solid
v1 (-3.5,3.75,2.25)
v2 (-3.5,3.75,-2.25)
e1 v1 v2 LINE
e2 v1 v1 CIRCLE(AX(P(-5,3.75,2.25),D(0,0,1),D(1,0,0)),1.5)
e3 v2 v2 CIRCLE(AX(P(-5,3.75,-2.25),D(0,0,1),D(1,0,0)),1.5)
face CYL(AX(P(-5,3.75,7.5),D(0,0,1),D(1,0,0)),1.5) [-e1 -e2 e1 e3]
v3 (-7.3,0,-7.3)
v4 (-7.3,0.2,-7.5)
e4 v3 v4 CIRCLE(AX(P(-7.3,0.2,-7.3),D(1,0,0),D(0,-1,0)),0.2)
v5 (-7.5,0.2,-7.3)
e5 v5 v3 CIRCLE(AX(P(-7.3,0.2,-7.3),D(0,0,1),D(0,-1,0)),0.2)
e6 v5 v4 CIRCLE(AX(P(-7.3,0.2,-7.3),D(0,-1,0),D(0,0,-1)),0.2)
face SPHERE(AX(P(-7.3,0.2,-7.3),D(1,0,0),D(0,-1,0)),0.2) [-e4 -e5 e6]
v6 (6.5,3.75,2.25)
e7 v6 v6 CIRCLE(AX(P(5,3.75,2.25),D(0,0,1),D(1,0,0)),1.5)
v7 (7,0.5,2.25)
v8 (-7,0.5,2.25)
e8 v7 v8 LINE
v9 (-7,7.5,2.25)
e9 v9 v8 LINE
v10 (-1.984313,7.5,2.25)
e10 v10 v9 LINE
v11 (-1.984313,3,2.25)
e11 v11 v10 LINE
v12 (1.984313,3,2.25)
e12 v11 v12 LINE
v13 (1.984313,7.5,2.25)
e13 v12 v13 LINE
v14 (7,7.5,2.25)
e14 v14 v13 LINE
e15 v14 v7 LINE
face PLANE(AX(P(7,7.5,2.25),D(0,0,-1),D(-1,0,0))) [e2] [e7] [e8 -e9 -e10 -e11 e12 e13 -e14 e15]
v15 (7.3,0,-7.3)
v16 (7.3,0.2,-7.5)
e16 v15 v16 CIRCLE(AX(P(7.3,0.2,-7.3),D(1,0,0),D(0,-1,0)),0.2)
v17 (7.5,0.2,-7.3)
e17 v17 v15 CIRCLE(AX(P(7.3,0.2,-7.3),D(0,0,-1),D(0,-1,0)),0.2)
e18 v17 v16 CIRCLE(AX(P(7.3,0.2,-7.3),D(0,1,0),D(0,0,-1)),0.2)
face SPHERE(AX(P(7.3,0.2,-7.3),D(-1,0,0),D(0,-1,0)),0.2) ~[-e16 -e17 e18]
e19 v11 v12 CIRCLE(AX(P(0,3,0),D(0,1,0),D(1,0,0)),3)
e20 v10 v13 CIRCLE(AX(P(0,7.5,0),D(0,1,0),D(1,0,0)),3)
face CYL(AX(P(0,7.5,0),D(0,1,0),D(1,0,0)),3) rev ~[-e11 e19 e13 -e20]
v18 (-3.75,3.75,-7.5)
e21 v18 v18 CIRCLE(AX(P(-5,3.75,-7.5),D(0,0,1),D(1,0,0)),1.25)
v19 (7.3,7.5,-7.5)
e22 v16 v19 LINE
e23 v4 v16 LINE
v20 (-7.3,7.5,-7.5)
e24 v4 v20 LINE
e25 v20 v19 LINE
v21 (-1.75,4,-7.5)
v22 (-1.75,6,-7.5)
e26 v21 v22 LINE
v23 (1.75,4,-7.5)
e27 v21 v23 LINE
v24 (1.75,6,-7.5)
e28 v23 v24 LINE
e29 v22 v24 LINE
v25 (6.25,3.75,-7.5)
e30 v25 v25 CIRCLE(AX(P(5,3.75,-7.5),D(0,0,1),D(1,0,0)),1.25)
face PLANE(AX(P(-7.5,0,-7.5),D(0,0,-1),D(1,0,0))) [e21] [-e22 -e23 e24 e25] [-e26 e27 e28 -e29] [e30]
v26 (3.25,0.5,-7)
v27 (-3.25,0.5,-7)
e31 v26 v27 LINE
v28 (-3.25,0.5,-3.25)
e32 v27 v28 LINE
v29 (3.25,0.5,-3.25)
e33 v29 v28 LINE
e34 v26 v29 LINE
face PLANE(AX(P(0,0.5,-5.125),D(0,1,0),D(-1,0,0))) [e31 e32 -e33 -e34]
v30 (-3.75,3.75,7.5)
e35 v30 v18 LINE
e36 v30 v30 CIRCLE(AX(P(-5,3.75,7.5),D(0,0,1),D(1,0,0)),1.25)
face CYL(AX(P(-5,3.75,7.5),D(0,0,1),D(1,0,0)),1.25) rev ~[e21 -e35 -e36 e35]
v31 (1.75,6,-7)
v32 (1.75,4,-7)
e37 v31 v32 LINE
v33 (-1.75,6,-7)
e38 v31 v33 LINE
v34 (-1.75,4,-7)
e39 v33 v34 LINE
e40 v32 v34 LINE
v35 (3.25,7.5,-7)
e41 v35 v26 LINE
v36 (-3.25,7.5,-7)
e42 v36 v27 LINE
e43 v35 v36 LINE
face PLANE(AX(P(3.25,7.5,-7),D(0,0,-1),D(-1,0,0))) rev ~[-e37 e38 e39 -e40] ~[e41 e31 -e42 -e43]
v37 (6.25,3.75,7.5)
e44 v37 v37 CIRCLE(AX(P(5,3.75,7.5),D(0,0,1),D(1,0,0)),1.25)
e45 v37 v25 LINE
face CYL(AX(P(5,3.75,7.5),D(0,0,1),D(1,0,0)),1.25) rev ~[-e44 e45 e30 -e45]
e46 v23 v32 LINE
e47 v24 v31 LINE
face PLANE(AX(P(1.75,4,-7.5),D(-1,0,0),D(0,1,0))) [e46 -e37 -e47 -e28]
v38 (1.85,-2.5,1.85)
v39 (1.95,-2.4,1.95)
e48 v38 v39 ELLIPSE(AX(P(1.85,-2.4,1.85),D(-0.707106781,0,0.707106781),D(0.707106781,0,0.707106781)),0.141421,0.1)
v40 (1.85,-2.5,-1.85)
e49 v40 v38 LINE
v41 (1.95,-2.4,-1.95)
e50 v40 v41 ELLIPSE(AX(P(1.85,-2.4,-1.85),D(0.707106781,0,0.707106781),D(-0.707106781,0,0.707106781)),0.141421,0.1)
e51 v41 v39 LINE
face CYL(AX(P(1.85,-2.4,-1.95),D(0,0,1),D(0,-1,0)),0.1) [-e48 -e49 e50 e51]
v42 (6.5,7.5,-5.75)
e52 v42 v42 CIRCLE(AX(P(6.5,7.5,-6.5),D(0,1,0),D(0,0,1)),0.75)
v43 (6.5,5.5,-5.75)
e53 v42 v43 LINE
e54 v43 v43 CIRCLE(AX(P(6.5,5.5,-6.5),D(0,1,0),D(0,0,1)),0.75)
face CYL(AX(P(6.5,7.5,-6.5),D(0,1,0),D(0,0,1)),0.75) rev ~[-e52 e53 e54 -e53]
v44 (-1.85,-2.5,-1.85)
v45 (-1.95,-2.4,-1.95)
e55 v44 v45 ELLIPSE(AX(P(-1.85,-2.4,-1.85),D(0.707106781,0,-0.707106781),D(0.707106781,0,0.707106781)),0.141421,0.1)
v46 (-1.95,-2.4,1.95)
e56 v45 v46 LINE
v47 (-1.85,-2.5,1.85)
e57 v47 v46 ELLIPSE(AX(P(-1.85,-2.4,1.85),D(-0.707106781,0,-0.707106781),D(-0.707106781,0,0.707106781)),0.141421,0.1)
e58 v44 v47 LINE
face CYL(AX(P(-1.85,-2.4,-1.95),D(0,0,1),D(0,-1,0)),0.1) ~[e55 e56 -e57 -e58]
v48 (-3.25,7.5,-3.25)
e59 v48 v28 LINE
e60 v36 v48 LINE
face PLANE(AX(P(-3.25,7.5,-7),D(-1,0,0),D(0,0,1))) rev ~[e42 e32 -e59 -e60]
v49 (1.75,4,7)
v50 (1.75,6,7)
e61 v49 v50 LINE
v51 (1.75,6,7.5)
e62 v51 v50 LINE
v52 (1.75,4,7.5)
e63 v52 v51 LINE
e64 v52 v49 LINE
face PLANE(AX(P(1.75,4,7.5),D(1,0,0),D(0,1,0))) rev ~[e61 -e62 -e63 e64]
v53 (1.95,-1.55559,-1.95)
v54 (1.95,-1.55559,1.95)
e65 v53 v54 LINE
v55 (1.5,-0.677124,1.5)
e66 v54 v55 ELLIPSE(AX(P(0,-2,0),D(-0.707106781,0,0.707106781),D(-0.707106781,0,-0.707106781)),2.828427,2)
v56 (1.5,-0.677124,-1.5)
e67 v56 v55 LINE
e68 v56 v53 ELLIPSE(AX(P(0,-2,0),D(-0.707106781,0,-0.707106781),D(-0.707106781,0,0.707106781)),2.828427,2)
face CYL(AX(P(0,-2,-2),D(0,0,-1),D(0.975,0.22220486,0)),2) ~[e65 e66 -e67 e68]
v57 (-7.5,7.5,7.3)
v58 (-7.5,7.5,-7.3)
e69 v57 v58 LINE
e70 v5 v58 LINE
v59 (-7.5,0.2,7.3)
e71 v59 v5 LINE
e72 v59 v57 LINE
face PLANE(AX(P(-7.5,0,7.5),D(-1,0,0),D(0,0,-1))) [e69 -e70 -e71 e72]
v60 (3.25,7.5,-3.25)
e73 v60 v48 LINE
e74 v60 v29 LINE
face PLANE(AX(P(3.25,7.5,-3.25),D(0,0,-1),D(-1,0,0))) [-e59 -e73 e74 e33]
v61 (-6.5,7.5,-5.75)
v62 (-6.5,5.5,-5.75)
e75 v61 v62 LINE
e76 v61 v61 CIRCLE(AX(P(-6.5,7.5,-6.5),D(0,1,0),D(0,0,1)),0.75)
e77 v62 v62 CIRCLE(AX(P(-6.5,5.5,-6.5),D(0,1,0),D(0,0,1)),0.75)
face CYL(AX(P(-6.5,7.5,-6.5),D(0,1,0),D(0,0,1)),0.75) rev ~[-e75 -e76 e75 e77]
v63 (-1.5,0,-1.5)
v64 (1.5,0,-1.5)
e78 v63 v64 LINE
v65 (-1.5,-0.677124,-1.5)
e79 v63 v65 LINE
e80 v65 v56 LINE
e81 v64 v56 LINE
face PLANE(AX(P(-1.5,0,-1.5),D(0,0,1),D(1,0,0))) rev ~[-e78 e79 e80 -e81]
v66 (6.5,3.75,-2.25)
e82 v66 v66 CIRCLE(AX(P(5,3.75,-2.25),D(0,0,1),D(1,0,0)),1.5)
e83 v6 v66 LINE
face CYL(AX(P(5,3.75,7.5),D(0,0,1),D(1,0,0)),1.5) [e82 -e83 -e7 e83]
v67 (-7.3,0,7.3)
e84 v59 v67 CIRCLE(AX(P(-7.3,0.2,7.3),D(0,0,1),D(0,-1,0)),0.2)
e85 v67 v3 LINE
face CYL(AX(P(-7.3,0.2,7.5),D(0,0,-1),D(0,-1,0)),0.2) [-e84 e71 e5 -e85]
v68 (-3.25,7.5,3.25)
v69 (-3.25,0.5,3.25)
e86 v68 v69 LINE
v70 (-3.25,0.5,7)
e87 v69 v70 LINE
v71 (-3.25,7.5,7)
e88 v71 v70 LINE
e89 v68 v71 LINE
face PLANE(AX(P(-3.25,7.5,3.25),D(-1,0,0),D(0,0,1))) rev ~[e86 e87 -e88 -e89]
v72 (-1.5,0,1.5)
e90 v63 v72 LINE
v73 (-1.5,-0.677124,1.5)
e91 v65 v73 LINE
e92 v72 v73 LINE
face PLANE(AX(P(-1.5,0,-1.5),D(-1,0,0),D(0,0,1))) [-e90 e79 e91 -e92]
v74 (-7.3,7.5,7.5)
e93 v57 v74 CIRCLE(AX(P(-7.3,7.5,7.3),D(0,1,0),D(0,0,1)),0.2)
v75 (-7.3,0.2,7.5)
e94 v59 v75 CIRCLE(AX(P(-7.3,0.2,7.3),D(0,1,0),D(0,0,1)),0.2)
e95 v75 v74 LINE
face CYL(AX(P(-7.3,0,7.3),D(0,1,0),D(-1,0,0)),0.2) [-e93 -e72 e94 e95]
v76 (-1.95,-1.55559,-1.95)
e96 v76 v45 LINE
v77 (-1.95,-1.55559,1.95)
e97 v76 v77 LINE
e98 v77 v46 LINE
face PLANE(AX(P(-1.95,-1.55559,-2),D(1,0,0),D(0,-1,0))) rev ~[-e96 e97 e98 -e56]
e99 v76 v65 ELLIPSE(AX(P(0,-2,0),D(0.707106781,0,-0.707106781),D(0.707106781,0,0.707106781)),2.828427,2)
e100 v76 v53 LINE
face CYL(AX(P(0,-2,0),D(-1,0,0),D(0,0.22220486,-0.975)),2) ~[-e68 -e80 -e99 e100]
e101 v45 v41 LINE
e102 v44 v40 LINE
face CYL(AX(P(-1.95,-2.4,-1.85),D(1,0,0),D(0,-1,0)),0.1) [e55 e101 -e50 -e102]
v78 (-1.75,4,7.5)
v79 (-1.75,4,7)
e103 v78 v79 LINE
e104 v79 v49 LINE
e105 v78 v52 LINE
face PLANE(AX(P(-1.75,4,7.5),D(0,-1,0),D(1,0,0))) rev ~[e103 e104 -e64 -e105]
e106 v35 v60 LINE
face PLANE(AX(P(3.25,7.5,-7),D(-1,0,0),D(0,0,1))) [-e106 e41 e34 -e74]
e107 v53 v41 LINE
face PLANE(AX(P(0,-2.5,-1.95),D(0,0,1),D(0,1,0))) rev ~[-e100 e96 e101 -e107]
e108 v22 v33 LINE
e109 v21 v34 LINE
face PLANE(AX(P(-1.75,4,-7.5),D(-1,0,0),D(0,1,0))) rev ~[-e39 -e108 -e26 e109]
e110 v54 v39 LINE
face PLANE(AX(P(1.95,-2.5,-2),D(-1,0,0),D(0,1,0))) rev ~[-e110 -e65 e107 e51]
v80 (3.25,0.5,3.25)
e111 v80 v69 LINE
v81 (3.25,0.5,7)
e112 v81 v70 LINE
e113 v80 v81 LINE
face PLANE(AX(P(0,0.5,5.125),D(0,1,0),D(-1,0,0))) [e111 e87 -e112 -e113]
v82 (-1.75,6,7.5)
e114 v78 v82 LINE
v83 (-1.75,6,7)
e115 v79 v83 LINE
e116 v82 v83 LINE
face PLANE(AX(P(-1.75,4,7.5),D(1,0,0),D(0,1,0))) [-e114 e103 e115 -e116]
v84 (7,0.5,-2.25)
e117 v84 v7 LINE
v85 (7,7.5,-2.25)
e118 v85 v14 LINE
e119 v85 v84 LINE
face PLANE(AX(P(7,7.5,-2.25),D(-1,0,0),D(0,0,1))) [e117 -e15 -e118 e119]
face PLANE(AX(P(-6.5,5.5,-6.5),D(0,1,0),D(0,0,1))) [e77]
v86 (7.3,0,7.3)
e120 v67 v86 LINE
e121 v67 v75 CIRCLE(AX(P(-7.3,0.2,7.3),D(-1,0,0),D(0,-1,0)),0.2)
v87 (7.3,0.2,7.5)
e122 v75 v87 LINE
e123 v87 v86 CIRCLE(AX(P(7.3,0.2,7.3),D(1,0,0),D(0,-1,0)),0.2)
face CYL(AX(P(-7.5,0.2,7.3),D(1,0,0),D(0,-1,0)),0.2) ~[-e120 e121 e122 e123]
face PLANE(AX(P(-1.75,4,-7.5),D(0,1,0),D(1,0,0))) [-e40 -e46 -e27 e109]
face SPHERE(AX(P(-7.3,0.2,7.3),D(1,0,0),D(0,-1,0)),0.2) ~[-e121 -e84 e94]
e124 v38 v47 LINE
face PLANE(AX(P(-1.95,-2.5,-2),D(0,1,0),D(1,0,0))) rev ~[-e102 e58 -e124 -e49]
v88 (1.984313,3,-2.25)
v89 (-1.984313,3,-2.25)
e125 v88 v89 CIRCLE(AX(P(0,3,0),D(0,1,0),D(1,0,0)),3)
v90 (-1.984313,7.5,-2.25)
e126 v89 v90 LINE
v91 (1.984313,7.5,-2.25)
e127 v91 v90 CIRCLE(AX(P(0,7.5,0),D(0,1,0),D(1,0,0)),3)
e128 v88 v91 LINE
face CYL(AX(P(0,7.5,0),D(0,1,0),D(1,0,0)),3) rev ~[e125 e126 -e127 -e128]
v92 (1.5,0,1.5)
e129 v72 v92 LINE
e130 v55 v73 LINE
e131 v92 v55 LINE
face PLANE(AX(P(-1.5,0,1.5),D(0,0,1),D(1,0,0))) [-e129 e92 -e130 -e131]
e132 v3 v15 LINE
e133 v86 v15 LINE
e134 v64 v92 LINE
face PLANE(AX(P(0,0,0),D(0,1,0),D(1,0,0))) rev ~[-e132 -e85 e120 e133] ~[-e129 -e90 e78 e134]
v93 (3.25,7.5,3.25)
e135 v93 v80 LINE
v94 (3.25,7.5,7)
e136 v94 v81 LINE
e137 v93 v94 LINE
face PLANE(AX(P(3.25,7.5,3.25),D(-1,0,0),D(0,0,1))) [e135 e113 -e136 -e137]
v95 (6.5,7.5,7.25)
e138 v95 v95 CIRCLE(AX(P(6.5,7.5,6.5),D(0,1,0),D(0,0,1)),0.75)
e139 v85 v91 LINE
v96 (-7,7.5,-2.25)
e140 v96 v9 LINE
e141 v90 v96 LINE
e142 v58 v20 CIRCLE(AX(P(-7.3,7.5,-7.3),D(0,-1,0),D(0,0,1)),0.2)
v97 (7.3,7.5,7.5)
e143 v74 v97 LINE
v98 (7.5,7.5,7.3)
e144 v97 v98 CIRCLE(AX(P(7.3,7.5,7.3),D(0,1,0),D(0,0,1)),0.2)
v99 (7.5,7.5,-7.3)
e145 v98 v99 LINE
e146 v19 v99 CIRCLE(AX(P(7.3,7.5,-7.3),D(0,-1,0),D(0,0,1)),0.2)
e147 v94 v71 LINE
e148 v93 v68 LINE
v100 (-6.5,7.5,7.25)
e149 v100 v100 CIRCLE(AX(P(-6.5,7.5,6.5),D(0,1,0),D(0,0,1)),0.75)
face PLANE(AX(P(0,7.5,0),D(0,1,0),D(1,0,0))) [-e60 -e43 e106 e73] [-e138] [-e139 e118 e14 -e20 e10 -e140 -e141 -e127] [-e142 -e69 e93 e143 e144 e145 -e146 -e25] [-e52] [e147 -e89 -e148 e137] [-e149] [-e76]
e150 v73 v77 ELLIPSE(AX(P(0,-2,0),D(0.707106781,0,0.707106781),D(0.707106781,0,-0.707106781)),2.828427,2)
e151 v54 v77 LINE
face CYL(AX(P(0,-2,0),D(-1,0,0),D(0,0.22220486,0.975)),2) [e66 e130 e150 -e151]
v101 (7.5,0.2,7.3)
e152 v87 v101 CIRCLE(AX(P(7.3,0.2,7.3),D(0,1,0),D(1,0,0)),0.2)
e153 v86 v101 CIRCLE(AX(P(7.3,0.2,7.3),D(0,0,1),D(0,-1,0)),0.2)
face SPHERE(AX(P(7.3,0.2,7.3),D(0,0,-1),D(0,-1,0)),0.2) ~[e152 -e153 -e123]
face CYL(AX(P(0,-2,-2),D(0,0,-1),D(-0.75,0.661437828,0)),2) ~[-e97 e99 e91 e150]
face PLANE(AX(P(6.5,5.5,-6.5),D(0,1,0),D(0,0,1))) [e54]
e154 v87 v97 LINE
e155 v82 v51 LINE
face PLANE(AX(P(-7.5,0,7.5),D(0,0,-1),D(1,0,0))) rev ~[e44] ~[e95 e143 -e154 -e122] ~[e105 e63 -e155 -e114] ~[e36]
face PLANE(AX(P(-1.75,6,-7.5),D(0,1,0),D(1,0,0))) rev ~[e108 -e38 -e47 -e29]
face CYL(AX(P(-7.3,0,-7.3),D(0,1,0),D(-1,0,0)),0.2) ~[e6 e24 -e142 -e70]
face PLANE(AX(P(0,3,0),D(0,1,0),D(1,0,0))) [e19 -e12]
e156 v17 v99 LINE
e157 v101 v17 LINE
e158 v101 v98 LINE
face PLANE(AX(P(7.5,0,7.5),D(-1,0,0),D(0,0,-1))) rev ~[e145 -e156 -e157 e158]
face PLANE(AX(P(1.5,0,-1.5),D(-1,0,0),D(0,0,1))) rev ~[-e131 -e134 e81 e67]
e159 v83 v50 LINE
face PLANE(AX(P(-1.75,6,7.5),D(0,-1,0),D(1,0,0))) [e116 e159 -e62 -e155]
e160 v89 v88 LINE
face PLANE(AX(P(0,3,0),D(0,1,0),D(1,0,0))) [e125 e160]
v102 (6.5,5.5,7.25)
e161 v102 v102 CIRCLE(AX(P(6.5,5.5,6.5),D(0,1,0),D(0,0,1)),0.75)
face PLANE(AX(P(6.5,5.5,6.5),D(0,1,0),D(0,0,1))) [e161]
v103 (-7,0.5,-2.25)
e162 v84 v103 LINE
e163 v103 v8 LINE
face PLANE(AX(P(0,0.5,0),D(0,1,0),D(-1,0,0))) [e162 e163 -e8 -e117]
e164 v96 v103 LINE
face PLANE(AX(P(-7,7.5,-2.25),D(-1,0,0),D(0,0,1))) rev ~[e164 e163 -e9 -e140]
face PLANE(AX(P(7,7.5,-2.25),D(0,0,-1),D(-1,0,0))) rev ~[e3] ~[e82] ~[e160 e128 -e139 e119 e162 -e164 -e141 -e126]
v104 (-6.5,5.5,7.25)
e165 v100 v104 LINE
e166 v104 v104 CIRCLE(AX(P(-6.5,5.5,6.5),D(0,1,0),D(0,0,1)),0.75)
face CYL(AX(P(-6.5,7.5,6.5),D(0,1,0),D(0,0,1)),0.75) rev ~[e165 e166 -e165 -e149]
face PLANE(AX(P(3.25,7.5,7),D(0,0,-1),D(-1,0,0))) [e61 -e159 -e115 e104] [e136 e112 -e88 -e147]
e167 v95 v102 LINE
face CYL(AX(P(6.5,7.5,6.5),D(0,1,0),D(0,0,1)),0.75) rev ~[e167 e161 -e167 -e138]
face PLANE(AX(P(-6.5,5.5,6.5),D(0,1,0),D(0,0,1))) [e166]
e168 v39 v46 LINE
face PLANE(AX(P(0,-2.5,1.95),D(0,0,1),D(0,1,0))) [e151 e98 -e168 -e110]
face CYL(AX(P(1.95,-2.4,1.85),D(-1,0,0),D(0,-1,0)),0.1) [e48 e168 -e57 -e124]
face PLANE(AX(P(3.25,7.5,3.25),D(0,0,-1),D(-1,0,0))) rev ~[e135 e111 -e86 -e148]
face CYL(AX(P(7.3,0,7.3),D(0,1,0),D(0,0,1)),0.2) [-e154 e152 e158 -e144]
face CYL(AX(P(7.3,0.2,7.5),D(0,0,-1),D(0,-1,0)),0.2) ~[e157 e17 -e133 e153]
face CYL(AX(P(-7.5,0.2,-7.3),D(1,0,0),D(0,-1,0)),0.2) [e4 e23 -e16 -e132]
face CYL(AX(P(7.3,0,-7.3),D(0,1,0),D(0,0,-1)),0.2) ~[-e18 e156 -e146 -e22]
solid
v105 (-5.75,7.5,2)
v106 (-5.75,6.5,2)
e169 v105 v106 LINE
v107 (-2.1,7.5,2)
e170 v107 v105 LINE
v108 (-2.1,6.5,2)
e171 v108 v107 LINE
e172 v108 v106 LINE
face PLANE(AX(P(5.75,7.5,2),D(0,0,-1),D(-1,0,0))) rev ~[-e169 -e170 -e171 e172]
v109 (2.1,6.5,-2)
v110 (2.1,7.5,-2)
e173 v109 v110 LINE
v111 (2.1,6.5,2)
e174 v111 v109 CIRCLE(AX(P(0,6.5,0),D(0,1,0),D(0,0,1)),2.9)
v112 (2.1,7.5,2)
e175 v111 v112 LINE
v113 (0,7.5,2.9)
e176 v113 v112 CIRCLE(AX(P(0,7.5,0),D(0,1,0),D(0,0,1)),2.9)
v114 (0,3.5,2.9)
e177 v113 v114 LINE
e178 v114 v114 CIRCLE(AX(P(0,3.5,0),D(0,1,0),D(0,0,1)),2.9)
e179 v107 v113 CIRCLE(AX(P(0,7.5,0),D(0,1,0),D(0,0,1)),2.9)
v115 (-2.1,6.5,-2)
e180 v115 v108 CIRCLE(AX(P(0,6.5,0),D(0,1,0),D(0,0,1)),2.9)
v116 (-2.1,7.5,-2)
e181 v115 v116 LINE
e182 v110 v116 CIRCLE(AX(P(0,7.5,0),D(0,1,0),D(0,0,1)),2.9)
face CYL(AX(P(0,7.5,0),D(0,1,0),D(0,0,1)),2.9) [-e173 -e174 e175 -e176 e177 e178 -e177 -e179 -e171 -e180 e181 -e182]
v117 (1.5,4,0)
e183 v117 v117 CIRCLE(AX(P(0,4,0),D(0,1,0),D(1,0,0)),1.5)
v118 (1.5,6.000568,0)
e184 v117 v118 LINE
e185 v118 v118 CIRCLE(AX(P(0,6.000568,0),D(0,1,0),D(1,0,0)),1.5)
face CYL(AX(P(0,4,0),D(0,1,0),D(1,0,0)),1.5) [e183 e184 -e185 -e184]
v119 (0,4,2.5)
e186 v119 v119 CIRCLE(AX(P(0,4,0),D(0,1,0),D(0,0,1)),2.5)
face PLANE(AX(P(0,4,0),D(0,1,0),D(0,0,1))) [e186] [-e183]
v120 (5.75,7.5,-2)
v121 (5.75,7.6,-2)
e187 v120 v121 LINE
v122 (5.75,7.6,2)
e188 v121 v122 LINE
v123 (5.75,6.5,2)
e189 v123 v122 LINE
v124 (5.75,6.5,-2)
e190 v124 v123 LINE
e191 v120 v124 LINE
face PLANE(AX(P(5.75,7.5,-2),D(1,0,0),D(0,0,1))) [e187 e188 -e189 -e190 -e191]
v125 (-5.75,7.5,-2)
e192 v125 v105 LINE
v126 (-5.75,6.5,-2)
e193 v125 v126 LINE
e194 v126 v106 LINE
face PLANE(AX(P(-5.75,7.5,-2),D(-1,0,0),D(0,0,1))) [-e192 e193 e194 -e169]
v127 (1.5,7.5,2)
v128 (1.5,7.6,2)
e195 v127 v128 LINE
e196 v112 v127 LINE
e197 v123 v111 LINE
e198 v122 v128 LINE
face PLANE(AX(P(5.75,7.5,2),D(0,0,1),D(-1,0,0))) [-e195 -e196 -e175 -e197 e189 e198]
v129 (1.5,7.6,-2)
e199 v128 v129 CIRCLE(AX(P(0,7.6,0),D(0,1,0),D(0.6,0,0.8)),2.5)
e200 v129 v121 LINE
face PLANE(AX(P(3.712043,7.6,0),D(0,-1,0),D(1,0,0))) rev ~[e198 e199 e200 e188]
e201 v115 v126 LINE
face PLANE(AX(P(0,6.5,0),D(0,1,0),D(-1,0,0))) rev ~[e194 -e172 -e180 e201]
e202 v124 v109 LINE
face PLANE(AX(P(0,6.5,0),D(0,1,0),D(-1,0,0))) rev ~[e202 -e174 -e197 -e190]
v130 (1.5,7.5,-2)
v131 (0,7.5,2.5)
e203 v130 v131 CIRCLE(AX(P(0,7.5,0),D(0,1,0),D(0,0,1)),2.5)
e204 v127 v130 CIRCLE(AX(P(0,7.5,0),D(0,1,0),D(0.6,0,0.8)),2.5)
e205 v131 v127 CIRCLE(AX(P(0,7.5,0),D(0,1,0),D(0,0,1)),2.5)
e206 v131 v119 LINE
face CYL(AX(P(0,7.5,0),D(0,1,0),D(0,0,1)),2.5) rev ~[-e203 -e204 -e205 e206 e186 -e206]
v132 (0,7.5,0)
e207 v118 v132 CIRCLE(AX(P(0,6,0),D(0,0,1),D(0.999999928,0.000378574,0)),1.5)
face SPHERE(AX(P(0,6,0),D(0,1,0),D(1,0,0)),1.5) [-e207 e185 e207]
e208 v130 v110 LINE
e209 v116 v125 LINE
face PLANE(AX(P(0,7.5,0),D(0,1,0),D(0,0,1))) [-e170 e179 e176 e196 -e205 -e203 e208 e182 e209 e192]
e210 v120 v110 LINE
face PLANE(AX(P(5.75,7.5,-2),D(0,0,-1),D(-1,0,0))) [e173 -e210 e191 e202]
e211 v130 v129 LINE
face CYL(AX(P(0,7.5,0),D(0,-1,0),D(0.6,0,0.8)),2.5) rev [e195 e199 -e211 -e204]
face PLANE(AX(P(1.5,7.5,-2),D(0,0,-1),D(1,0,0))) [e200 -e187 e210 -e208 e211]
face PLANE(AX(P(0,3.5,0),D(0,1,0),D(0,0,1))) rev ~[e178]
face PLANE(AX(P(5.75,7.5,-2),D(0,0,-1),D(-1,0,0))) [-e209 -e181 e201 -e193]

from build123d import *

# Parameters (mm, degrees)
SKETCH_2_W                      = 15
SKETCH_2_H                      = 15
EXTRUDE_1_DEPTH                 = 7.5
SKETCH_3_W                      = 14
SKETCH_3_H                      = 4.5
CUT_EXTRUDE_1_DEPTH             = 7
SKETCH_4_R                      = 3
CUT_EXTRUDE_2_DEPTH             = 4.5
SKETCH_5_W                      = 6.5
SKETCH_5_H                      = 3.75
CUT_EXTRUDE_3_DEPTH             = 7
EXTRUDE_2_REACH                 = 20.371
SKETCH_6_R                      = 1.5
SKETCH_7_R                      = 1.25
CUT_EXTRUDE_4_DEPTH             = 19.371173071
SKETCH_8_W                      = 3
SKETCH_8_H                      = 3
EXTRUDE_3_DEPTH                 = 1
CUT_EXTRUDE_5_REACH             = 20.371
SKETCH_9_W                      = 3.5
SKETCH_9_H                      = 2
CUT_EXTRUDE_6_REACH             = 35.371
CUT_EXTRUDE_START               = -15
SKETCH_9_2_W                    = 3.5
SKETCH_9_2_H                    = 2
EXTRUDE_4_DEPTH                 = 2
EXTRUDE_4_DEPTH_BACK            = 2
CUT_EXTRUDE_7_REACH             = 14.99
CUT_EXTRUDE_7_DIRECTION_2_REACH = 14.99
FILLET_1_R                      = 0.1
FILLET_2_R                      = 0.2
SKETCH_12_R                     = 0.75
CUT_EXTRUDE_8_DEPTH             = 2
SKETCH_13_W                     = 11.5
SKETCH_13_H                     = 4
EXTRUDE_5_DEPTH                 = 1
SKETCH_14_R                     = 2.9
EXTRUDE_6_DEPTH                 = 4
SKETCH_15_R                     = 2.5
CUT_EXTRUDE_9_DEPTH             = 3.5
EXTRUDE_7_DEPTH                 = 0.1


with BuildPart() as part:
    # 草图2 → 凸台-拉伸1 (new body)
    with BuildSketch(Plane(origin=(0, 0, 0), x_dir=(1, 0, 0), z_dir=(0, 1, 0))):
        Rectangle(SKETCH_2_W, SKETCH_2_H)
    extrude(amount=EXTRUDE_1_DEPTH)

    # 草图3 → 切除-拉伸1 (cut)
    with BuildSketch(Plane(origin=(0, 7.5, 0), x_dir=(-1, 0, 0), z_dir=(0, 1, 0))):
        Rectangle(SKETCH_3_W, SKETCH_3_H)
    extrude(amount=-CUT_EXTRUDE_1_DEPTH, mode=Mode.SUBTRACT)

    # 草图4 → 切除-拉伸2 (cut)
    with BuildSketch(Plane(origin=(0, 7.5, 0), x_dir=(1, 0, 0), z_dir=(0, 1, 0))):
        Circle(SKETCH_4_R)
    extrude(amount=-CUT_EXTRUDE_2_DEPTH, mode=Mode.SUBTRACT)

    # 草图5 → 切除-拉伸3 (cut)
    with BuildSketch(Plane(origin=(0, 7.5, 0), x_dir=(-1, 0, 0), z_dir=(0, 1, 0))):
        with Locations((0, -5.125)):
            Rectangle(SKETCH_5_W, SKETCH_5_H)
        with Locations((0, 5.125)):
            Rectangle(SKETCH_5_W, SKETCH_5_H)
    extrude(amount=-CUT_EXTRUDE_3_DEPTH, mode=Mode.SUBTRACT)

    # 草图6 → 凸台-拉伸2 (add, up to next)
    with BuildSketch(Plane.XY.offset(7.5), mode=Mode.PRIVATE) as extrude_2_sk1:
        with Locations((-5, 3.75)):
            Circle(SKETCH_6_R)
    extrude_2_tool1 = extrude(extrude_2_sk1.sketch, amount=-EXTRUDE_2_REACH, mode=Mode.PRIVATE) - part.part
    # 草图6 → 凸台-拉伸2 (add, up to next)
    with BuildSketch(Plane.XY.offset(7.5), mode=Mode.PRIVATE) as extrude_2_sk2:
        with Locations((5, 3.75)):
            Circle(SKETCH_6_R)
    extrude_2_tool2 = extrude(extrude_2_sk2.sketch, amount=-EXTRUDE_2_REACH, mode=Mode.PRIVATE) - part.part
    add(extrude_2_tool1.solids().sort_by_distance((-5, 3.75, 7.5))[0])
    add(extrude_2_tool2.solids().sort_by_distance((5, 3.75, 7.5))[0])

    # 草图7 → 切除-拉伸4 (cut, through all)
    with BuildSketch(Plane.XY.offset(7.5)):
        with Locations((-5, 3.75)):
            Circle(SKETCH_7_R)
        with Locations((5, 3.75)):
            Circle(SKETCH_7_R)
    extrude(amount=-CUT_EXTRUDE_4_DEPTH, mode=Mode.SUBTRACT)

    # 草图8 → 凸台-拉伸3 (add)
    with BuildSketch(Plane.XZ):
        Rectangle(SKETCH_8_W, SKETCH_8_H)
    extrude(amount=EXTRUDE_3_DEPTH)

    # 草图9 → 切除-拉伸5 (cut, up to next)
    with BuildSketch(Plane.XY.offset(7.5), mode=Mode.PRIVATE) as cut_extrude_5_sk1:
        with Locations((0, 5)):
            Rectangle(SKETCH_9_W, SKETCH_9_H)
    cut_extrude_5_tool1 = extrude(cut_extrude_5_sk1.sketch, amount=-CUT_EXTRUDE_5_REACH, mode=Mode.PRIVATE) & part.part
    add(cut_extrude_5_tool1.solids().sort_by_distance((0, 5, 7.5))[0], mode=Mode.SUBTRACT)

    # 草图9<2> → 切除-拉伸6 (cut, up to next)
    with BuildSketch(Plane.XY.offset(7.5).offset(CUT_EXTRUDE_START), mode=Mode.PRIVATE) as cut_extrude_6_sk1:
        with Locations((0, 5)):
            Rectangle(SKETCH_9_2_W, SKETCH_9_2_H)
    cut_extrude_6_tool1 = extrude(cut_extrude_6_sk1.sketch, amount=CUT_EXTRUDE_6_REACH, mode=Mode.PRIVATE) & part.part
    add(cut_extrude_6_tool1.solids().sort_by_distance((0, 5, -7.5))[0], mode=Mode.SUBTRACT)

    # 草图10 → 凸台-拉伸4 (add, two sides: drawn at the far end of the back side and taken through both)
    with BuildSketch(Plane.XY.offset(-EXTRUDE_4_DEPTH_BACK)):
        with BuildLine():
            Line((-1.95, -2.5), (1.95, -2.5))
            Line((1.95, -2.5), (1.95, -1.555590279))
            ThreePointArc((1.95, -1.555590279), (1.780042303, -1.088161527), (1.5, -0.677124344))
            Line((1.5, -0.677124344), (-1.5, -0.677124344))
            ThreePointArc((-1.5, -0.677124344), (-1.780042303, -1.088161527), (-1.95, -1.555590279))
            Line((-1.95, -1.555590279), (-1.95, -2.5))
        make_face()
    extrude(amount=EXTRUDE_4_DEPTH + EXTRUDE_4_DEPTH_BACK)

    # 草图11 → 切除-拉伸7 (cut, up to next)
    with BuildSketch(Plane(origin=(0, 0, 0), x_dir=(0, 0, -1), z_dir=(1, 0, 0)), mode=Mode.PRIVATE) as cut_extrude_7_sk1:
        with BuildLine():
            Line((1.95, -2.5), (1.95, -1.555590279))
            ThreePointArc((1.95, -1.555590279), (1.780042303, -1.088161527), (1.5, -0.677124344))
            Line((1.5, -0.677124344), (2, -0.677124344))
            Line((2, -0.677124344), (2, -2.5))
            Line((2, -2.5), (1.95, -2.5))
        make_face()
    cut_extrude_7_tool1 = extrude(cut_extrude_7_sk1.sketch, amount=-CUT_EXTRUDE_7_REACH, mode=Mode.PRIVATE) & part.part
    # 草图11 → 切除-拉伸7 (cut, up to next)
    with BuildSketch(Plane(origin=(0, 0, 0), x_dir=(0, 0, -1), z_dir=(1, 0, 0)), mode=Mode.PRIVATE) as cut_extrude_7_sk2:
        with BuildLine():
            Line((-1.95, -2.5), (-1.95, -1.555590279))
            ThreePointArc((-1.95, -1.555590279), (-1.780042303, -1.088161527), (-1.5, -0.677124344))
            Line((-1.5, -0.677124344), (-2, -0.677124344))
            Line((-2, -0.677124344), (-2, -2.5))
            Line((-2, -2.5), (-1.95, -2.5))
        make_face()
    cut_extrude_7_tool2 = extrude(cut_extrude_7_sk2.sketch, amount=-CUT_EXTRUDE_7_REACH, mode=Mode.PRIVATE) & part.part
    add(cut_extrude_7_tool1.solids().sort_by_distance((0, -1.175075, -1.873038))[0], mode=Mode.SUBTRACT)
    add(cut_extrude_7_tool2.solids().sort_by_distance((0, -1.175075, 1.873038))[0], mode=Mode.SUBTRACT)

    # 草图11 → 切除-拉伸7 direction 2 (cut, up to next)
    with BuildSketch(Plane(origin=(0, 0, 0), x_dir=(0, 0, -1), z_dir=(1, 0, 0)), mode=Mode.PRIVATE) as cut_extrude_7_direction_2_sk1:
        with BuildLine():
            Line((1.95, -2.5), (1.95, -1.555590279))
            ThreePointArc((1.95, -1.555590279), (1.780042303, -1.088161527), (1.5, -0.677124344))
            Line((1.5, -0.677124344), (2, -0.677124344))
            Line((2, -0.677124344), (2, -2.5))
            Line((2, -2.5), (1.95, -2.5))
        make_face()
    cut_extrude_7_direction_2_tool1 = extrude(cut_extrude_7_direction_2_sk1.sketch, amount=CUT_EXTRUDE_7_DIRECTION_2_REACH, mode=Mode.PRIVATE) & part.part
    # 草图11 → 切除-拉伸7 direction 2 (cut, up to next)
    with BuildSketch(Plane(origin=(0, 0, 0), x_dir=(0, 0, -1), z_dir=(1, 0, 0)), mode=Mode.PRIVATE) as cut_extrude_7_direction_2_sk2:
        with BuildLine():
            Line((-1.95, -2.5), (-1.95, -1.555590279))
            ThreePointArc((-1.95, -1.555590279), (-1.780042303, -1.088161527), (-1.5, -0.677124344))
            Line((-1.5, -0.677124344), (-2, -0.677124344))
            Line((-2, -0.677124344), (-2, -2.5))
            Line((-2, -2.5), (-1.95, -2.5))
        make_face()
    cut_extrude_7_direction_2_tool2 = extrude(cut_extrude_7_direction_2_sk2.sketch, amount=CUT_EXTRUDE_7_DIRECTION_2_REACH, mode=Mode.PRIVATE) & part.part
    add(cut_extrude_7_direction_2_tool1.solids().sort_by_distance((0, -1.175075, -1.873038))[0], mode=Mode.SUBTRACT)
    add(cut_extrude_7_direction_2_tool2.solids().sort_by_distance((0, -1.175075, 1.873038))[0], mode=Mode.SUBTRACT)

    # 圆角1
    fillet_1_edges = [part.edges().sort_by_distance(p)[0] for p in [
        (-1.95, -2.5, 0),
        (1.95, -2.5, 0),
        (0, -2.5, -1.95),
        (0, -2.5, 1.95),
    ]]
    fillet(fillet_1_edges, radius=FILLET_1_R)

    # 圆角2
    fillet_2_edges = [part.edges().sort_by_distance(p)[0] for p in [
        (0, 0, -7.5),
        (7.5, 0, 0),
        (0, 0, 7.5),
        (-7.5, 0, 0),
        (-7.5, 3.75, -7.5),
        (7.5, 3.75, -7.5),
        (7.5, 3.75, 7.5),
        (-7.5, 3.75, 7.5),
    ]]
    fillet(fillet_2_edges, radius=FILLET_2_R)

    # 草图12 → 切除-拉伸8 (cut)
    with BuildSketch(Plane(origin=(0, 7.5, 0), x_dir=(-1, 0, 0), z_dir=(0, 1, 0))):
        with Locations(Location((6.5, -6.5, 0), (0, 0, 90))):
            Circle(SKETCH_12_R)
        with Locations(Location((-6.5, 6.5, 0), (0, 0, 90))):
            Circle(SKETCH_12_R)
        with Locations(Location((6.5, 6.5, 0), (0, 0, 90))):
            Circle(SKETCH_12_R)
        with Locations(Location((-6.5, -6.5, 0), (0, 0, 90))):
            Circle(SKETCH_12_R)
    extrude(amount=-CUT_EXTRUDE_8_DEPTH, mode=Mode.SUBTRACT)


with BuildPart() as body_2:
    # 草图13 → 凸台-拉伸5 (new body)
    with BuildSketch(Plane(origin=(0, 7.5, 0), x_dir=(-1, 0, 0), z_dir=(0, 1, 0))):
        Rectangle(SKETCH_13_W, SKETCH_13_H)
    extrude(amount=-EXTRUDE_5_DEPTH)

    # 草图14 → 凸台-拉伸6 (add)
    with BuildSketch(Plane(origin=(0, 7.5, 0), x_dir=(-1, 0, 0), z_dir=(0, 1, 0))):
        with Locations(Location((0, 0, 0), (0, 0, 90))):
            Circle(SKETCH_14_R)
    extrude(amount=-EXTRUDE_6_DEPTH)

    # 草图15 → 切除-拉伸9 (cut)
    with BuildSketch(Plane(origin=(0, 7.5, 0), x_dir=(-1, 0, 0), z_dir=(0, 1, 0))):
        with Locations(Location((0, 0, 0), (0, 0, 90))):
            Circle(SKETCH_15_R)
    extrude(amount=-CUT_EXTRUDE_9_DEPTH, mode=Mode.SUBTRACT)

    # 草图16 → 旋转2 (revolve)
    with BuildSketch(Plane.XY):
        with BuildLine():
            Line((1.5, 4), (1.5, 6.000567678))
            ThreePointArc((1.5, 6.000567678), (1.060660172, 7.060660172), (0, 7.5))
            Line((0, 7.5), (0, 4))
            Line((0, 4), (1.5, 4))
        make_face()
    revolve(axis=Axis((0, -0.447775082, 0), (0, 1, 0)))

    # 草图17 → 凸台-拉伸7 (add)
    with BuildSketch(Plane(origin=(0, 7.5, 0), x_dir=(-1, 0, 0), z_dir=(0, 1, 0))):
        with BuildLine():
            Line((-5.75, 2), (-1.5, 2))
            ThreePointArc((-1.5, 2), (-2.5, 0), (-1.5, -2))
            Line((-1.5, -2), (-5.75, -2))
            Line((-5.75, -2), (-5.75, 2))
        make_face()
    extrude(amount=EXTRUDE_7_DEPTH)


solid = Compound([part.part, body_2.part])
